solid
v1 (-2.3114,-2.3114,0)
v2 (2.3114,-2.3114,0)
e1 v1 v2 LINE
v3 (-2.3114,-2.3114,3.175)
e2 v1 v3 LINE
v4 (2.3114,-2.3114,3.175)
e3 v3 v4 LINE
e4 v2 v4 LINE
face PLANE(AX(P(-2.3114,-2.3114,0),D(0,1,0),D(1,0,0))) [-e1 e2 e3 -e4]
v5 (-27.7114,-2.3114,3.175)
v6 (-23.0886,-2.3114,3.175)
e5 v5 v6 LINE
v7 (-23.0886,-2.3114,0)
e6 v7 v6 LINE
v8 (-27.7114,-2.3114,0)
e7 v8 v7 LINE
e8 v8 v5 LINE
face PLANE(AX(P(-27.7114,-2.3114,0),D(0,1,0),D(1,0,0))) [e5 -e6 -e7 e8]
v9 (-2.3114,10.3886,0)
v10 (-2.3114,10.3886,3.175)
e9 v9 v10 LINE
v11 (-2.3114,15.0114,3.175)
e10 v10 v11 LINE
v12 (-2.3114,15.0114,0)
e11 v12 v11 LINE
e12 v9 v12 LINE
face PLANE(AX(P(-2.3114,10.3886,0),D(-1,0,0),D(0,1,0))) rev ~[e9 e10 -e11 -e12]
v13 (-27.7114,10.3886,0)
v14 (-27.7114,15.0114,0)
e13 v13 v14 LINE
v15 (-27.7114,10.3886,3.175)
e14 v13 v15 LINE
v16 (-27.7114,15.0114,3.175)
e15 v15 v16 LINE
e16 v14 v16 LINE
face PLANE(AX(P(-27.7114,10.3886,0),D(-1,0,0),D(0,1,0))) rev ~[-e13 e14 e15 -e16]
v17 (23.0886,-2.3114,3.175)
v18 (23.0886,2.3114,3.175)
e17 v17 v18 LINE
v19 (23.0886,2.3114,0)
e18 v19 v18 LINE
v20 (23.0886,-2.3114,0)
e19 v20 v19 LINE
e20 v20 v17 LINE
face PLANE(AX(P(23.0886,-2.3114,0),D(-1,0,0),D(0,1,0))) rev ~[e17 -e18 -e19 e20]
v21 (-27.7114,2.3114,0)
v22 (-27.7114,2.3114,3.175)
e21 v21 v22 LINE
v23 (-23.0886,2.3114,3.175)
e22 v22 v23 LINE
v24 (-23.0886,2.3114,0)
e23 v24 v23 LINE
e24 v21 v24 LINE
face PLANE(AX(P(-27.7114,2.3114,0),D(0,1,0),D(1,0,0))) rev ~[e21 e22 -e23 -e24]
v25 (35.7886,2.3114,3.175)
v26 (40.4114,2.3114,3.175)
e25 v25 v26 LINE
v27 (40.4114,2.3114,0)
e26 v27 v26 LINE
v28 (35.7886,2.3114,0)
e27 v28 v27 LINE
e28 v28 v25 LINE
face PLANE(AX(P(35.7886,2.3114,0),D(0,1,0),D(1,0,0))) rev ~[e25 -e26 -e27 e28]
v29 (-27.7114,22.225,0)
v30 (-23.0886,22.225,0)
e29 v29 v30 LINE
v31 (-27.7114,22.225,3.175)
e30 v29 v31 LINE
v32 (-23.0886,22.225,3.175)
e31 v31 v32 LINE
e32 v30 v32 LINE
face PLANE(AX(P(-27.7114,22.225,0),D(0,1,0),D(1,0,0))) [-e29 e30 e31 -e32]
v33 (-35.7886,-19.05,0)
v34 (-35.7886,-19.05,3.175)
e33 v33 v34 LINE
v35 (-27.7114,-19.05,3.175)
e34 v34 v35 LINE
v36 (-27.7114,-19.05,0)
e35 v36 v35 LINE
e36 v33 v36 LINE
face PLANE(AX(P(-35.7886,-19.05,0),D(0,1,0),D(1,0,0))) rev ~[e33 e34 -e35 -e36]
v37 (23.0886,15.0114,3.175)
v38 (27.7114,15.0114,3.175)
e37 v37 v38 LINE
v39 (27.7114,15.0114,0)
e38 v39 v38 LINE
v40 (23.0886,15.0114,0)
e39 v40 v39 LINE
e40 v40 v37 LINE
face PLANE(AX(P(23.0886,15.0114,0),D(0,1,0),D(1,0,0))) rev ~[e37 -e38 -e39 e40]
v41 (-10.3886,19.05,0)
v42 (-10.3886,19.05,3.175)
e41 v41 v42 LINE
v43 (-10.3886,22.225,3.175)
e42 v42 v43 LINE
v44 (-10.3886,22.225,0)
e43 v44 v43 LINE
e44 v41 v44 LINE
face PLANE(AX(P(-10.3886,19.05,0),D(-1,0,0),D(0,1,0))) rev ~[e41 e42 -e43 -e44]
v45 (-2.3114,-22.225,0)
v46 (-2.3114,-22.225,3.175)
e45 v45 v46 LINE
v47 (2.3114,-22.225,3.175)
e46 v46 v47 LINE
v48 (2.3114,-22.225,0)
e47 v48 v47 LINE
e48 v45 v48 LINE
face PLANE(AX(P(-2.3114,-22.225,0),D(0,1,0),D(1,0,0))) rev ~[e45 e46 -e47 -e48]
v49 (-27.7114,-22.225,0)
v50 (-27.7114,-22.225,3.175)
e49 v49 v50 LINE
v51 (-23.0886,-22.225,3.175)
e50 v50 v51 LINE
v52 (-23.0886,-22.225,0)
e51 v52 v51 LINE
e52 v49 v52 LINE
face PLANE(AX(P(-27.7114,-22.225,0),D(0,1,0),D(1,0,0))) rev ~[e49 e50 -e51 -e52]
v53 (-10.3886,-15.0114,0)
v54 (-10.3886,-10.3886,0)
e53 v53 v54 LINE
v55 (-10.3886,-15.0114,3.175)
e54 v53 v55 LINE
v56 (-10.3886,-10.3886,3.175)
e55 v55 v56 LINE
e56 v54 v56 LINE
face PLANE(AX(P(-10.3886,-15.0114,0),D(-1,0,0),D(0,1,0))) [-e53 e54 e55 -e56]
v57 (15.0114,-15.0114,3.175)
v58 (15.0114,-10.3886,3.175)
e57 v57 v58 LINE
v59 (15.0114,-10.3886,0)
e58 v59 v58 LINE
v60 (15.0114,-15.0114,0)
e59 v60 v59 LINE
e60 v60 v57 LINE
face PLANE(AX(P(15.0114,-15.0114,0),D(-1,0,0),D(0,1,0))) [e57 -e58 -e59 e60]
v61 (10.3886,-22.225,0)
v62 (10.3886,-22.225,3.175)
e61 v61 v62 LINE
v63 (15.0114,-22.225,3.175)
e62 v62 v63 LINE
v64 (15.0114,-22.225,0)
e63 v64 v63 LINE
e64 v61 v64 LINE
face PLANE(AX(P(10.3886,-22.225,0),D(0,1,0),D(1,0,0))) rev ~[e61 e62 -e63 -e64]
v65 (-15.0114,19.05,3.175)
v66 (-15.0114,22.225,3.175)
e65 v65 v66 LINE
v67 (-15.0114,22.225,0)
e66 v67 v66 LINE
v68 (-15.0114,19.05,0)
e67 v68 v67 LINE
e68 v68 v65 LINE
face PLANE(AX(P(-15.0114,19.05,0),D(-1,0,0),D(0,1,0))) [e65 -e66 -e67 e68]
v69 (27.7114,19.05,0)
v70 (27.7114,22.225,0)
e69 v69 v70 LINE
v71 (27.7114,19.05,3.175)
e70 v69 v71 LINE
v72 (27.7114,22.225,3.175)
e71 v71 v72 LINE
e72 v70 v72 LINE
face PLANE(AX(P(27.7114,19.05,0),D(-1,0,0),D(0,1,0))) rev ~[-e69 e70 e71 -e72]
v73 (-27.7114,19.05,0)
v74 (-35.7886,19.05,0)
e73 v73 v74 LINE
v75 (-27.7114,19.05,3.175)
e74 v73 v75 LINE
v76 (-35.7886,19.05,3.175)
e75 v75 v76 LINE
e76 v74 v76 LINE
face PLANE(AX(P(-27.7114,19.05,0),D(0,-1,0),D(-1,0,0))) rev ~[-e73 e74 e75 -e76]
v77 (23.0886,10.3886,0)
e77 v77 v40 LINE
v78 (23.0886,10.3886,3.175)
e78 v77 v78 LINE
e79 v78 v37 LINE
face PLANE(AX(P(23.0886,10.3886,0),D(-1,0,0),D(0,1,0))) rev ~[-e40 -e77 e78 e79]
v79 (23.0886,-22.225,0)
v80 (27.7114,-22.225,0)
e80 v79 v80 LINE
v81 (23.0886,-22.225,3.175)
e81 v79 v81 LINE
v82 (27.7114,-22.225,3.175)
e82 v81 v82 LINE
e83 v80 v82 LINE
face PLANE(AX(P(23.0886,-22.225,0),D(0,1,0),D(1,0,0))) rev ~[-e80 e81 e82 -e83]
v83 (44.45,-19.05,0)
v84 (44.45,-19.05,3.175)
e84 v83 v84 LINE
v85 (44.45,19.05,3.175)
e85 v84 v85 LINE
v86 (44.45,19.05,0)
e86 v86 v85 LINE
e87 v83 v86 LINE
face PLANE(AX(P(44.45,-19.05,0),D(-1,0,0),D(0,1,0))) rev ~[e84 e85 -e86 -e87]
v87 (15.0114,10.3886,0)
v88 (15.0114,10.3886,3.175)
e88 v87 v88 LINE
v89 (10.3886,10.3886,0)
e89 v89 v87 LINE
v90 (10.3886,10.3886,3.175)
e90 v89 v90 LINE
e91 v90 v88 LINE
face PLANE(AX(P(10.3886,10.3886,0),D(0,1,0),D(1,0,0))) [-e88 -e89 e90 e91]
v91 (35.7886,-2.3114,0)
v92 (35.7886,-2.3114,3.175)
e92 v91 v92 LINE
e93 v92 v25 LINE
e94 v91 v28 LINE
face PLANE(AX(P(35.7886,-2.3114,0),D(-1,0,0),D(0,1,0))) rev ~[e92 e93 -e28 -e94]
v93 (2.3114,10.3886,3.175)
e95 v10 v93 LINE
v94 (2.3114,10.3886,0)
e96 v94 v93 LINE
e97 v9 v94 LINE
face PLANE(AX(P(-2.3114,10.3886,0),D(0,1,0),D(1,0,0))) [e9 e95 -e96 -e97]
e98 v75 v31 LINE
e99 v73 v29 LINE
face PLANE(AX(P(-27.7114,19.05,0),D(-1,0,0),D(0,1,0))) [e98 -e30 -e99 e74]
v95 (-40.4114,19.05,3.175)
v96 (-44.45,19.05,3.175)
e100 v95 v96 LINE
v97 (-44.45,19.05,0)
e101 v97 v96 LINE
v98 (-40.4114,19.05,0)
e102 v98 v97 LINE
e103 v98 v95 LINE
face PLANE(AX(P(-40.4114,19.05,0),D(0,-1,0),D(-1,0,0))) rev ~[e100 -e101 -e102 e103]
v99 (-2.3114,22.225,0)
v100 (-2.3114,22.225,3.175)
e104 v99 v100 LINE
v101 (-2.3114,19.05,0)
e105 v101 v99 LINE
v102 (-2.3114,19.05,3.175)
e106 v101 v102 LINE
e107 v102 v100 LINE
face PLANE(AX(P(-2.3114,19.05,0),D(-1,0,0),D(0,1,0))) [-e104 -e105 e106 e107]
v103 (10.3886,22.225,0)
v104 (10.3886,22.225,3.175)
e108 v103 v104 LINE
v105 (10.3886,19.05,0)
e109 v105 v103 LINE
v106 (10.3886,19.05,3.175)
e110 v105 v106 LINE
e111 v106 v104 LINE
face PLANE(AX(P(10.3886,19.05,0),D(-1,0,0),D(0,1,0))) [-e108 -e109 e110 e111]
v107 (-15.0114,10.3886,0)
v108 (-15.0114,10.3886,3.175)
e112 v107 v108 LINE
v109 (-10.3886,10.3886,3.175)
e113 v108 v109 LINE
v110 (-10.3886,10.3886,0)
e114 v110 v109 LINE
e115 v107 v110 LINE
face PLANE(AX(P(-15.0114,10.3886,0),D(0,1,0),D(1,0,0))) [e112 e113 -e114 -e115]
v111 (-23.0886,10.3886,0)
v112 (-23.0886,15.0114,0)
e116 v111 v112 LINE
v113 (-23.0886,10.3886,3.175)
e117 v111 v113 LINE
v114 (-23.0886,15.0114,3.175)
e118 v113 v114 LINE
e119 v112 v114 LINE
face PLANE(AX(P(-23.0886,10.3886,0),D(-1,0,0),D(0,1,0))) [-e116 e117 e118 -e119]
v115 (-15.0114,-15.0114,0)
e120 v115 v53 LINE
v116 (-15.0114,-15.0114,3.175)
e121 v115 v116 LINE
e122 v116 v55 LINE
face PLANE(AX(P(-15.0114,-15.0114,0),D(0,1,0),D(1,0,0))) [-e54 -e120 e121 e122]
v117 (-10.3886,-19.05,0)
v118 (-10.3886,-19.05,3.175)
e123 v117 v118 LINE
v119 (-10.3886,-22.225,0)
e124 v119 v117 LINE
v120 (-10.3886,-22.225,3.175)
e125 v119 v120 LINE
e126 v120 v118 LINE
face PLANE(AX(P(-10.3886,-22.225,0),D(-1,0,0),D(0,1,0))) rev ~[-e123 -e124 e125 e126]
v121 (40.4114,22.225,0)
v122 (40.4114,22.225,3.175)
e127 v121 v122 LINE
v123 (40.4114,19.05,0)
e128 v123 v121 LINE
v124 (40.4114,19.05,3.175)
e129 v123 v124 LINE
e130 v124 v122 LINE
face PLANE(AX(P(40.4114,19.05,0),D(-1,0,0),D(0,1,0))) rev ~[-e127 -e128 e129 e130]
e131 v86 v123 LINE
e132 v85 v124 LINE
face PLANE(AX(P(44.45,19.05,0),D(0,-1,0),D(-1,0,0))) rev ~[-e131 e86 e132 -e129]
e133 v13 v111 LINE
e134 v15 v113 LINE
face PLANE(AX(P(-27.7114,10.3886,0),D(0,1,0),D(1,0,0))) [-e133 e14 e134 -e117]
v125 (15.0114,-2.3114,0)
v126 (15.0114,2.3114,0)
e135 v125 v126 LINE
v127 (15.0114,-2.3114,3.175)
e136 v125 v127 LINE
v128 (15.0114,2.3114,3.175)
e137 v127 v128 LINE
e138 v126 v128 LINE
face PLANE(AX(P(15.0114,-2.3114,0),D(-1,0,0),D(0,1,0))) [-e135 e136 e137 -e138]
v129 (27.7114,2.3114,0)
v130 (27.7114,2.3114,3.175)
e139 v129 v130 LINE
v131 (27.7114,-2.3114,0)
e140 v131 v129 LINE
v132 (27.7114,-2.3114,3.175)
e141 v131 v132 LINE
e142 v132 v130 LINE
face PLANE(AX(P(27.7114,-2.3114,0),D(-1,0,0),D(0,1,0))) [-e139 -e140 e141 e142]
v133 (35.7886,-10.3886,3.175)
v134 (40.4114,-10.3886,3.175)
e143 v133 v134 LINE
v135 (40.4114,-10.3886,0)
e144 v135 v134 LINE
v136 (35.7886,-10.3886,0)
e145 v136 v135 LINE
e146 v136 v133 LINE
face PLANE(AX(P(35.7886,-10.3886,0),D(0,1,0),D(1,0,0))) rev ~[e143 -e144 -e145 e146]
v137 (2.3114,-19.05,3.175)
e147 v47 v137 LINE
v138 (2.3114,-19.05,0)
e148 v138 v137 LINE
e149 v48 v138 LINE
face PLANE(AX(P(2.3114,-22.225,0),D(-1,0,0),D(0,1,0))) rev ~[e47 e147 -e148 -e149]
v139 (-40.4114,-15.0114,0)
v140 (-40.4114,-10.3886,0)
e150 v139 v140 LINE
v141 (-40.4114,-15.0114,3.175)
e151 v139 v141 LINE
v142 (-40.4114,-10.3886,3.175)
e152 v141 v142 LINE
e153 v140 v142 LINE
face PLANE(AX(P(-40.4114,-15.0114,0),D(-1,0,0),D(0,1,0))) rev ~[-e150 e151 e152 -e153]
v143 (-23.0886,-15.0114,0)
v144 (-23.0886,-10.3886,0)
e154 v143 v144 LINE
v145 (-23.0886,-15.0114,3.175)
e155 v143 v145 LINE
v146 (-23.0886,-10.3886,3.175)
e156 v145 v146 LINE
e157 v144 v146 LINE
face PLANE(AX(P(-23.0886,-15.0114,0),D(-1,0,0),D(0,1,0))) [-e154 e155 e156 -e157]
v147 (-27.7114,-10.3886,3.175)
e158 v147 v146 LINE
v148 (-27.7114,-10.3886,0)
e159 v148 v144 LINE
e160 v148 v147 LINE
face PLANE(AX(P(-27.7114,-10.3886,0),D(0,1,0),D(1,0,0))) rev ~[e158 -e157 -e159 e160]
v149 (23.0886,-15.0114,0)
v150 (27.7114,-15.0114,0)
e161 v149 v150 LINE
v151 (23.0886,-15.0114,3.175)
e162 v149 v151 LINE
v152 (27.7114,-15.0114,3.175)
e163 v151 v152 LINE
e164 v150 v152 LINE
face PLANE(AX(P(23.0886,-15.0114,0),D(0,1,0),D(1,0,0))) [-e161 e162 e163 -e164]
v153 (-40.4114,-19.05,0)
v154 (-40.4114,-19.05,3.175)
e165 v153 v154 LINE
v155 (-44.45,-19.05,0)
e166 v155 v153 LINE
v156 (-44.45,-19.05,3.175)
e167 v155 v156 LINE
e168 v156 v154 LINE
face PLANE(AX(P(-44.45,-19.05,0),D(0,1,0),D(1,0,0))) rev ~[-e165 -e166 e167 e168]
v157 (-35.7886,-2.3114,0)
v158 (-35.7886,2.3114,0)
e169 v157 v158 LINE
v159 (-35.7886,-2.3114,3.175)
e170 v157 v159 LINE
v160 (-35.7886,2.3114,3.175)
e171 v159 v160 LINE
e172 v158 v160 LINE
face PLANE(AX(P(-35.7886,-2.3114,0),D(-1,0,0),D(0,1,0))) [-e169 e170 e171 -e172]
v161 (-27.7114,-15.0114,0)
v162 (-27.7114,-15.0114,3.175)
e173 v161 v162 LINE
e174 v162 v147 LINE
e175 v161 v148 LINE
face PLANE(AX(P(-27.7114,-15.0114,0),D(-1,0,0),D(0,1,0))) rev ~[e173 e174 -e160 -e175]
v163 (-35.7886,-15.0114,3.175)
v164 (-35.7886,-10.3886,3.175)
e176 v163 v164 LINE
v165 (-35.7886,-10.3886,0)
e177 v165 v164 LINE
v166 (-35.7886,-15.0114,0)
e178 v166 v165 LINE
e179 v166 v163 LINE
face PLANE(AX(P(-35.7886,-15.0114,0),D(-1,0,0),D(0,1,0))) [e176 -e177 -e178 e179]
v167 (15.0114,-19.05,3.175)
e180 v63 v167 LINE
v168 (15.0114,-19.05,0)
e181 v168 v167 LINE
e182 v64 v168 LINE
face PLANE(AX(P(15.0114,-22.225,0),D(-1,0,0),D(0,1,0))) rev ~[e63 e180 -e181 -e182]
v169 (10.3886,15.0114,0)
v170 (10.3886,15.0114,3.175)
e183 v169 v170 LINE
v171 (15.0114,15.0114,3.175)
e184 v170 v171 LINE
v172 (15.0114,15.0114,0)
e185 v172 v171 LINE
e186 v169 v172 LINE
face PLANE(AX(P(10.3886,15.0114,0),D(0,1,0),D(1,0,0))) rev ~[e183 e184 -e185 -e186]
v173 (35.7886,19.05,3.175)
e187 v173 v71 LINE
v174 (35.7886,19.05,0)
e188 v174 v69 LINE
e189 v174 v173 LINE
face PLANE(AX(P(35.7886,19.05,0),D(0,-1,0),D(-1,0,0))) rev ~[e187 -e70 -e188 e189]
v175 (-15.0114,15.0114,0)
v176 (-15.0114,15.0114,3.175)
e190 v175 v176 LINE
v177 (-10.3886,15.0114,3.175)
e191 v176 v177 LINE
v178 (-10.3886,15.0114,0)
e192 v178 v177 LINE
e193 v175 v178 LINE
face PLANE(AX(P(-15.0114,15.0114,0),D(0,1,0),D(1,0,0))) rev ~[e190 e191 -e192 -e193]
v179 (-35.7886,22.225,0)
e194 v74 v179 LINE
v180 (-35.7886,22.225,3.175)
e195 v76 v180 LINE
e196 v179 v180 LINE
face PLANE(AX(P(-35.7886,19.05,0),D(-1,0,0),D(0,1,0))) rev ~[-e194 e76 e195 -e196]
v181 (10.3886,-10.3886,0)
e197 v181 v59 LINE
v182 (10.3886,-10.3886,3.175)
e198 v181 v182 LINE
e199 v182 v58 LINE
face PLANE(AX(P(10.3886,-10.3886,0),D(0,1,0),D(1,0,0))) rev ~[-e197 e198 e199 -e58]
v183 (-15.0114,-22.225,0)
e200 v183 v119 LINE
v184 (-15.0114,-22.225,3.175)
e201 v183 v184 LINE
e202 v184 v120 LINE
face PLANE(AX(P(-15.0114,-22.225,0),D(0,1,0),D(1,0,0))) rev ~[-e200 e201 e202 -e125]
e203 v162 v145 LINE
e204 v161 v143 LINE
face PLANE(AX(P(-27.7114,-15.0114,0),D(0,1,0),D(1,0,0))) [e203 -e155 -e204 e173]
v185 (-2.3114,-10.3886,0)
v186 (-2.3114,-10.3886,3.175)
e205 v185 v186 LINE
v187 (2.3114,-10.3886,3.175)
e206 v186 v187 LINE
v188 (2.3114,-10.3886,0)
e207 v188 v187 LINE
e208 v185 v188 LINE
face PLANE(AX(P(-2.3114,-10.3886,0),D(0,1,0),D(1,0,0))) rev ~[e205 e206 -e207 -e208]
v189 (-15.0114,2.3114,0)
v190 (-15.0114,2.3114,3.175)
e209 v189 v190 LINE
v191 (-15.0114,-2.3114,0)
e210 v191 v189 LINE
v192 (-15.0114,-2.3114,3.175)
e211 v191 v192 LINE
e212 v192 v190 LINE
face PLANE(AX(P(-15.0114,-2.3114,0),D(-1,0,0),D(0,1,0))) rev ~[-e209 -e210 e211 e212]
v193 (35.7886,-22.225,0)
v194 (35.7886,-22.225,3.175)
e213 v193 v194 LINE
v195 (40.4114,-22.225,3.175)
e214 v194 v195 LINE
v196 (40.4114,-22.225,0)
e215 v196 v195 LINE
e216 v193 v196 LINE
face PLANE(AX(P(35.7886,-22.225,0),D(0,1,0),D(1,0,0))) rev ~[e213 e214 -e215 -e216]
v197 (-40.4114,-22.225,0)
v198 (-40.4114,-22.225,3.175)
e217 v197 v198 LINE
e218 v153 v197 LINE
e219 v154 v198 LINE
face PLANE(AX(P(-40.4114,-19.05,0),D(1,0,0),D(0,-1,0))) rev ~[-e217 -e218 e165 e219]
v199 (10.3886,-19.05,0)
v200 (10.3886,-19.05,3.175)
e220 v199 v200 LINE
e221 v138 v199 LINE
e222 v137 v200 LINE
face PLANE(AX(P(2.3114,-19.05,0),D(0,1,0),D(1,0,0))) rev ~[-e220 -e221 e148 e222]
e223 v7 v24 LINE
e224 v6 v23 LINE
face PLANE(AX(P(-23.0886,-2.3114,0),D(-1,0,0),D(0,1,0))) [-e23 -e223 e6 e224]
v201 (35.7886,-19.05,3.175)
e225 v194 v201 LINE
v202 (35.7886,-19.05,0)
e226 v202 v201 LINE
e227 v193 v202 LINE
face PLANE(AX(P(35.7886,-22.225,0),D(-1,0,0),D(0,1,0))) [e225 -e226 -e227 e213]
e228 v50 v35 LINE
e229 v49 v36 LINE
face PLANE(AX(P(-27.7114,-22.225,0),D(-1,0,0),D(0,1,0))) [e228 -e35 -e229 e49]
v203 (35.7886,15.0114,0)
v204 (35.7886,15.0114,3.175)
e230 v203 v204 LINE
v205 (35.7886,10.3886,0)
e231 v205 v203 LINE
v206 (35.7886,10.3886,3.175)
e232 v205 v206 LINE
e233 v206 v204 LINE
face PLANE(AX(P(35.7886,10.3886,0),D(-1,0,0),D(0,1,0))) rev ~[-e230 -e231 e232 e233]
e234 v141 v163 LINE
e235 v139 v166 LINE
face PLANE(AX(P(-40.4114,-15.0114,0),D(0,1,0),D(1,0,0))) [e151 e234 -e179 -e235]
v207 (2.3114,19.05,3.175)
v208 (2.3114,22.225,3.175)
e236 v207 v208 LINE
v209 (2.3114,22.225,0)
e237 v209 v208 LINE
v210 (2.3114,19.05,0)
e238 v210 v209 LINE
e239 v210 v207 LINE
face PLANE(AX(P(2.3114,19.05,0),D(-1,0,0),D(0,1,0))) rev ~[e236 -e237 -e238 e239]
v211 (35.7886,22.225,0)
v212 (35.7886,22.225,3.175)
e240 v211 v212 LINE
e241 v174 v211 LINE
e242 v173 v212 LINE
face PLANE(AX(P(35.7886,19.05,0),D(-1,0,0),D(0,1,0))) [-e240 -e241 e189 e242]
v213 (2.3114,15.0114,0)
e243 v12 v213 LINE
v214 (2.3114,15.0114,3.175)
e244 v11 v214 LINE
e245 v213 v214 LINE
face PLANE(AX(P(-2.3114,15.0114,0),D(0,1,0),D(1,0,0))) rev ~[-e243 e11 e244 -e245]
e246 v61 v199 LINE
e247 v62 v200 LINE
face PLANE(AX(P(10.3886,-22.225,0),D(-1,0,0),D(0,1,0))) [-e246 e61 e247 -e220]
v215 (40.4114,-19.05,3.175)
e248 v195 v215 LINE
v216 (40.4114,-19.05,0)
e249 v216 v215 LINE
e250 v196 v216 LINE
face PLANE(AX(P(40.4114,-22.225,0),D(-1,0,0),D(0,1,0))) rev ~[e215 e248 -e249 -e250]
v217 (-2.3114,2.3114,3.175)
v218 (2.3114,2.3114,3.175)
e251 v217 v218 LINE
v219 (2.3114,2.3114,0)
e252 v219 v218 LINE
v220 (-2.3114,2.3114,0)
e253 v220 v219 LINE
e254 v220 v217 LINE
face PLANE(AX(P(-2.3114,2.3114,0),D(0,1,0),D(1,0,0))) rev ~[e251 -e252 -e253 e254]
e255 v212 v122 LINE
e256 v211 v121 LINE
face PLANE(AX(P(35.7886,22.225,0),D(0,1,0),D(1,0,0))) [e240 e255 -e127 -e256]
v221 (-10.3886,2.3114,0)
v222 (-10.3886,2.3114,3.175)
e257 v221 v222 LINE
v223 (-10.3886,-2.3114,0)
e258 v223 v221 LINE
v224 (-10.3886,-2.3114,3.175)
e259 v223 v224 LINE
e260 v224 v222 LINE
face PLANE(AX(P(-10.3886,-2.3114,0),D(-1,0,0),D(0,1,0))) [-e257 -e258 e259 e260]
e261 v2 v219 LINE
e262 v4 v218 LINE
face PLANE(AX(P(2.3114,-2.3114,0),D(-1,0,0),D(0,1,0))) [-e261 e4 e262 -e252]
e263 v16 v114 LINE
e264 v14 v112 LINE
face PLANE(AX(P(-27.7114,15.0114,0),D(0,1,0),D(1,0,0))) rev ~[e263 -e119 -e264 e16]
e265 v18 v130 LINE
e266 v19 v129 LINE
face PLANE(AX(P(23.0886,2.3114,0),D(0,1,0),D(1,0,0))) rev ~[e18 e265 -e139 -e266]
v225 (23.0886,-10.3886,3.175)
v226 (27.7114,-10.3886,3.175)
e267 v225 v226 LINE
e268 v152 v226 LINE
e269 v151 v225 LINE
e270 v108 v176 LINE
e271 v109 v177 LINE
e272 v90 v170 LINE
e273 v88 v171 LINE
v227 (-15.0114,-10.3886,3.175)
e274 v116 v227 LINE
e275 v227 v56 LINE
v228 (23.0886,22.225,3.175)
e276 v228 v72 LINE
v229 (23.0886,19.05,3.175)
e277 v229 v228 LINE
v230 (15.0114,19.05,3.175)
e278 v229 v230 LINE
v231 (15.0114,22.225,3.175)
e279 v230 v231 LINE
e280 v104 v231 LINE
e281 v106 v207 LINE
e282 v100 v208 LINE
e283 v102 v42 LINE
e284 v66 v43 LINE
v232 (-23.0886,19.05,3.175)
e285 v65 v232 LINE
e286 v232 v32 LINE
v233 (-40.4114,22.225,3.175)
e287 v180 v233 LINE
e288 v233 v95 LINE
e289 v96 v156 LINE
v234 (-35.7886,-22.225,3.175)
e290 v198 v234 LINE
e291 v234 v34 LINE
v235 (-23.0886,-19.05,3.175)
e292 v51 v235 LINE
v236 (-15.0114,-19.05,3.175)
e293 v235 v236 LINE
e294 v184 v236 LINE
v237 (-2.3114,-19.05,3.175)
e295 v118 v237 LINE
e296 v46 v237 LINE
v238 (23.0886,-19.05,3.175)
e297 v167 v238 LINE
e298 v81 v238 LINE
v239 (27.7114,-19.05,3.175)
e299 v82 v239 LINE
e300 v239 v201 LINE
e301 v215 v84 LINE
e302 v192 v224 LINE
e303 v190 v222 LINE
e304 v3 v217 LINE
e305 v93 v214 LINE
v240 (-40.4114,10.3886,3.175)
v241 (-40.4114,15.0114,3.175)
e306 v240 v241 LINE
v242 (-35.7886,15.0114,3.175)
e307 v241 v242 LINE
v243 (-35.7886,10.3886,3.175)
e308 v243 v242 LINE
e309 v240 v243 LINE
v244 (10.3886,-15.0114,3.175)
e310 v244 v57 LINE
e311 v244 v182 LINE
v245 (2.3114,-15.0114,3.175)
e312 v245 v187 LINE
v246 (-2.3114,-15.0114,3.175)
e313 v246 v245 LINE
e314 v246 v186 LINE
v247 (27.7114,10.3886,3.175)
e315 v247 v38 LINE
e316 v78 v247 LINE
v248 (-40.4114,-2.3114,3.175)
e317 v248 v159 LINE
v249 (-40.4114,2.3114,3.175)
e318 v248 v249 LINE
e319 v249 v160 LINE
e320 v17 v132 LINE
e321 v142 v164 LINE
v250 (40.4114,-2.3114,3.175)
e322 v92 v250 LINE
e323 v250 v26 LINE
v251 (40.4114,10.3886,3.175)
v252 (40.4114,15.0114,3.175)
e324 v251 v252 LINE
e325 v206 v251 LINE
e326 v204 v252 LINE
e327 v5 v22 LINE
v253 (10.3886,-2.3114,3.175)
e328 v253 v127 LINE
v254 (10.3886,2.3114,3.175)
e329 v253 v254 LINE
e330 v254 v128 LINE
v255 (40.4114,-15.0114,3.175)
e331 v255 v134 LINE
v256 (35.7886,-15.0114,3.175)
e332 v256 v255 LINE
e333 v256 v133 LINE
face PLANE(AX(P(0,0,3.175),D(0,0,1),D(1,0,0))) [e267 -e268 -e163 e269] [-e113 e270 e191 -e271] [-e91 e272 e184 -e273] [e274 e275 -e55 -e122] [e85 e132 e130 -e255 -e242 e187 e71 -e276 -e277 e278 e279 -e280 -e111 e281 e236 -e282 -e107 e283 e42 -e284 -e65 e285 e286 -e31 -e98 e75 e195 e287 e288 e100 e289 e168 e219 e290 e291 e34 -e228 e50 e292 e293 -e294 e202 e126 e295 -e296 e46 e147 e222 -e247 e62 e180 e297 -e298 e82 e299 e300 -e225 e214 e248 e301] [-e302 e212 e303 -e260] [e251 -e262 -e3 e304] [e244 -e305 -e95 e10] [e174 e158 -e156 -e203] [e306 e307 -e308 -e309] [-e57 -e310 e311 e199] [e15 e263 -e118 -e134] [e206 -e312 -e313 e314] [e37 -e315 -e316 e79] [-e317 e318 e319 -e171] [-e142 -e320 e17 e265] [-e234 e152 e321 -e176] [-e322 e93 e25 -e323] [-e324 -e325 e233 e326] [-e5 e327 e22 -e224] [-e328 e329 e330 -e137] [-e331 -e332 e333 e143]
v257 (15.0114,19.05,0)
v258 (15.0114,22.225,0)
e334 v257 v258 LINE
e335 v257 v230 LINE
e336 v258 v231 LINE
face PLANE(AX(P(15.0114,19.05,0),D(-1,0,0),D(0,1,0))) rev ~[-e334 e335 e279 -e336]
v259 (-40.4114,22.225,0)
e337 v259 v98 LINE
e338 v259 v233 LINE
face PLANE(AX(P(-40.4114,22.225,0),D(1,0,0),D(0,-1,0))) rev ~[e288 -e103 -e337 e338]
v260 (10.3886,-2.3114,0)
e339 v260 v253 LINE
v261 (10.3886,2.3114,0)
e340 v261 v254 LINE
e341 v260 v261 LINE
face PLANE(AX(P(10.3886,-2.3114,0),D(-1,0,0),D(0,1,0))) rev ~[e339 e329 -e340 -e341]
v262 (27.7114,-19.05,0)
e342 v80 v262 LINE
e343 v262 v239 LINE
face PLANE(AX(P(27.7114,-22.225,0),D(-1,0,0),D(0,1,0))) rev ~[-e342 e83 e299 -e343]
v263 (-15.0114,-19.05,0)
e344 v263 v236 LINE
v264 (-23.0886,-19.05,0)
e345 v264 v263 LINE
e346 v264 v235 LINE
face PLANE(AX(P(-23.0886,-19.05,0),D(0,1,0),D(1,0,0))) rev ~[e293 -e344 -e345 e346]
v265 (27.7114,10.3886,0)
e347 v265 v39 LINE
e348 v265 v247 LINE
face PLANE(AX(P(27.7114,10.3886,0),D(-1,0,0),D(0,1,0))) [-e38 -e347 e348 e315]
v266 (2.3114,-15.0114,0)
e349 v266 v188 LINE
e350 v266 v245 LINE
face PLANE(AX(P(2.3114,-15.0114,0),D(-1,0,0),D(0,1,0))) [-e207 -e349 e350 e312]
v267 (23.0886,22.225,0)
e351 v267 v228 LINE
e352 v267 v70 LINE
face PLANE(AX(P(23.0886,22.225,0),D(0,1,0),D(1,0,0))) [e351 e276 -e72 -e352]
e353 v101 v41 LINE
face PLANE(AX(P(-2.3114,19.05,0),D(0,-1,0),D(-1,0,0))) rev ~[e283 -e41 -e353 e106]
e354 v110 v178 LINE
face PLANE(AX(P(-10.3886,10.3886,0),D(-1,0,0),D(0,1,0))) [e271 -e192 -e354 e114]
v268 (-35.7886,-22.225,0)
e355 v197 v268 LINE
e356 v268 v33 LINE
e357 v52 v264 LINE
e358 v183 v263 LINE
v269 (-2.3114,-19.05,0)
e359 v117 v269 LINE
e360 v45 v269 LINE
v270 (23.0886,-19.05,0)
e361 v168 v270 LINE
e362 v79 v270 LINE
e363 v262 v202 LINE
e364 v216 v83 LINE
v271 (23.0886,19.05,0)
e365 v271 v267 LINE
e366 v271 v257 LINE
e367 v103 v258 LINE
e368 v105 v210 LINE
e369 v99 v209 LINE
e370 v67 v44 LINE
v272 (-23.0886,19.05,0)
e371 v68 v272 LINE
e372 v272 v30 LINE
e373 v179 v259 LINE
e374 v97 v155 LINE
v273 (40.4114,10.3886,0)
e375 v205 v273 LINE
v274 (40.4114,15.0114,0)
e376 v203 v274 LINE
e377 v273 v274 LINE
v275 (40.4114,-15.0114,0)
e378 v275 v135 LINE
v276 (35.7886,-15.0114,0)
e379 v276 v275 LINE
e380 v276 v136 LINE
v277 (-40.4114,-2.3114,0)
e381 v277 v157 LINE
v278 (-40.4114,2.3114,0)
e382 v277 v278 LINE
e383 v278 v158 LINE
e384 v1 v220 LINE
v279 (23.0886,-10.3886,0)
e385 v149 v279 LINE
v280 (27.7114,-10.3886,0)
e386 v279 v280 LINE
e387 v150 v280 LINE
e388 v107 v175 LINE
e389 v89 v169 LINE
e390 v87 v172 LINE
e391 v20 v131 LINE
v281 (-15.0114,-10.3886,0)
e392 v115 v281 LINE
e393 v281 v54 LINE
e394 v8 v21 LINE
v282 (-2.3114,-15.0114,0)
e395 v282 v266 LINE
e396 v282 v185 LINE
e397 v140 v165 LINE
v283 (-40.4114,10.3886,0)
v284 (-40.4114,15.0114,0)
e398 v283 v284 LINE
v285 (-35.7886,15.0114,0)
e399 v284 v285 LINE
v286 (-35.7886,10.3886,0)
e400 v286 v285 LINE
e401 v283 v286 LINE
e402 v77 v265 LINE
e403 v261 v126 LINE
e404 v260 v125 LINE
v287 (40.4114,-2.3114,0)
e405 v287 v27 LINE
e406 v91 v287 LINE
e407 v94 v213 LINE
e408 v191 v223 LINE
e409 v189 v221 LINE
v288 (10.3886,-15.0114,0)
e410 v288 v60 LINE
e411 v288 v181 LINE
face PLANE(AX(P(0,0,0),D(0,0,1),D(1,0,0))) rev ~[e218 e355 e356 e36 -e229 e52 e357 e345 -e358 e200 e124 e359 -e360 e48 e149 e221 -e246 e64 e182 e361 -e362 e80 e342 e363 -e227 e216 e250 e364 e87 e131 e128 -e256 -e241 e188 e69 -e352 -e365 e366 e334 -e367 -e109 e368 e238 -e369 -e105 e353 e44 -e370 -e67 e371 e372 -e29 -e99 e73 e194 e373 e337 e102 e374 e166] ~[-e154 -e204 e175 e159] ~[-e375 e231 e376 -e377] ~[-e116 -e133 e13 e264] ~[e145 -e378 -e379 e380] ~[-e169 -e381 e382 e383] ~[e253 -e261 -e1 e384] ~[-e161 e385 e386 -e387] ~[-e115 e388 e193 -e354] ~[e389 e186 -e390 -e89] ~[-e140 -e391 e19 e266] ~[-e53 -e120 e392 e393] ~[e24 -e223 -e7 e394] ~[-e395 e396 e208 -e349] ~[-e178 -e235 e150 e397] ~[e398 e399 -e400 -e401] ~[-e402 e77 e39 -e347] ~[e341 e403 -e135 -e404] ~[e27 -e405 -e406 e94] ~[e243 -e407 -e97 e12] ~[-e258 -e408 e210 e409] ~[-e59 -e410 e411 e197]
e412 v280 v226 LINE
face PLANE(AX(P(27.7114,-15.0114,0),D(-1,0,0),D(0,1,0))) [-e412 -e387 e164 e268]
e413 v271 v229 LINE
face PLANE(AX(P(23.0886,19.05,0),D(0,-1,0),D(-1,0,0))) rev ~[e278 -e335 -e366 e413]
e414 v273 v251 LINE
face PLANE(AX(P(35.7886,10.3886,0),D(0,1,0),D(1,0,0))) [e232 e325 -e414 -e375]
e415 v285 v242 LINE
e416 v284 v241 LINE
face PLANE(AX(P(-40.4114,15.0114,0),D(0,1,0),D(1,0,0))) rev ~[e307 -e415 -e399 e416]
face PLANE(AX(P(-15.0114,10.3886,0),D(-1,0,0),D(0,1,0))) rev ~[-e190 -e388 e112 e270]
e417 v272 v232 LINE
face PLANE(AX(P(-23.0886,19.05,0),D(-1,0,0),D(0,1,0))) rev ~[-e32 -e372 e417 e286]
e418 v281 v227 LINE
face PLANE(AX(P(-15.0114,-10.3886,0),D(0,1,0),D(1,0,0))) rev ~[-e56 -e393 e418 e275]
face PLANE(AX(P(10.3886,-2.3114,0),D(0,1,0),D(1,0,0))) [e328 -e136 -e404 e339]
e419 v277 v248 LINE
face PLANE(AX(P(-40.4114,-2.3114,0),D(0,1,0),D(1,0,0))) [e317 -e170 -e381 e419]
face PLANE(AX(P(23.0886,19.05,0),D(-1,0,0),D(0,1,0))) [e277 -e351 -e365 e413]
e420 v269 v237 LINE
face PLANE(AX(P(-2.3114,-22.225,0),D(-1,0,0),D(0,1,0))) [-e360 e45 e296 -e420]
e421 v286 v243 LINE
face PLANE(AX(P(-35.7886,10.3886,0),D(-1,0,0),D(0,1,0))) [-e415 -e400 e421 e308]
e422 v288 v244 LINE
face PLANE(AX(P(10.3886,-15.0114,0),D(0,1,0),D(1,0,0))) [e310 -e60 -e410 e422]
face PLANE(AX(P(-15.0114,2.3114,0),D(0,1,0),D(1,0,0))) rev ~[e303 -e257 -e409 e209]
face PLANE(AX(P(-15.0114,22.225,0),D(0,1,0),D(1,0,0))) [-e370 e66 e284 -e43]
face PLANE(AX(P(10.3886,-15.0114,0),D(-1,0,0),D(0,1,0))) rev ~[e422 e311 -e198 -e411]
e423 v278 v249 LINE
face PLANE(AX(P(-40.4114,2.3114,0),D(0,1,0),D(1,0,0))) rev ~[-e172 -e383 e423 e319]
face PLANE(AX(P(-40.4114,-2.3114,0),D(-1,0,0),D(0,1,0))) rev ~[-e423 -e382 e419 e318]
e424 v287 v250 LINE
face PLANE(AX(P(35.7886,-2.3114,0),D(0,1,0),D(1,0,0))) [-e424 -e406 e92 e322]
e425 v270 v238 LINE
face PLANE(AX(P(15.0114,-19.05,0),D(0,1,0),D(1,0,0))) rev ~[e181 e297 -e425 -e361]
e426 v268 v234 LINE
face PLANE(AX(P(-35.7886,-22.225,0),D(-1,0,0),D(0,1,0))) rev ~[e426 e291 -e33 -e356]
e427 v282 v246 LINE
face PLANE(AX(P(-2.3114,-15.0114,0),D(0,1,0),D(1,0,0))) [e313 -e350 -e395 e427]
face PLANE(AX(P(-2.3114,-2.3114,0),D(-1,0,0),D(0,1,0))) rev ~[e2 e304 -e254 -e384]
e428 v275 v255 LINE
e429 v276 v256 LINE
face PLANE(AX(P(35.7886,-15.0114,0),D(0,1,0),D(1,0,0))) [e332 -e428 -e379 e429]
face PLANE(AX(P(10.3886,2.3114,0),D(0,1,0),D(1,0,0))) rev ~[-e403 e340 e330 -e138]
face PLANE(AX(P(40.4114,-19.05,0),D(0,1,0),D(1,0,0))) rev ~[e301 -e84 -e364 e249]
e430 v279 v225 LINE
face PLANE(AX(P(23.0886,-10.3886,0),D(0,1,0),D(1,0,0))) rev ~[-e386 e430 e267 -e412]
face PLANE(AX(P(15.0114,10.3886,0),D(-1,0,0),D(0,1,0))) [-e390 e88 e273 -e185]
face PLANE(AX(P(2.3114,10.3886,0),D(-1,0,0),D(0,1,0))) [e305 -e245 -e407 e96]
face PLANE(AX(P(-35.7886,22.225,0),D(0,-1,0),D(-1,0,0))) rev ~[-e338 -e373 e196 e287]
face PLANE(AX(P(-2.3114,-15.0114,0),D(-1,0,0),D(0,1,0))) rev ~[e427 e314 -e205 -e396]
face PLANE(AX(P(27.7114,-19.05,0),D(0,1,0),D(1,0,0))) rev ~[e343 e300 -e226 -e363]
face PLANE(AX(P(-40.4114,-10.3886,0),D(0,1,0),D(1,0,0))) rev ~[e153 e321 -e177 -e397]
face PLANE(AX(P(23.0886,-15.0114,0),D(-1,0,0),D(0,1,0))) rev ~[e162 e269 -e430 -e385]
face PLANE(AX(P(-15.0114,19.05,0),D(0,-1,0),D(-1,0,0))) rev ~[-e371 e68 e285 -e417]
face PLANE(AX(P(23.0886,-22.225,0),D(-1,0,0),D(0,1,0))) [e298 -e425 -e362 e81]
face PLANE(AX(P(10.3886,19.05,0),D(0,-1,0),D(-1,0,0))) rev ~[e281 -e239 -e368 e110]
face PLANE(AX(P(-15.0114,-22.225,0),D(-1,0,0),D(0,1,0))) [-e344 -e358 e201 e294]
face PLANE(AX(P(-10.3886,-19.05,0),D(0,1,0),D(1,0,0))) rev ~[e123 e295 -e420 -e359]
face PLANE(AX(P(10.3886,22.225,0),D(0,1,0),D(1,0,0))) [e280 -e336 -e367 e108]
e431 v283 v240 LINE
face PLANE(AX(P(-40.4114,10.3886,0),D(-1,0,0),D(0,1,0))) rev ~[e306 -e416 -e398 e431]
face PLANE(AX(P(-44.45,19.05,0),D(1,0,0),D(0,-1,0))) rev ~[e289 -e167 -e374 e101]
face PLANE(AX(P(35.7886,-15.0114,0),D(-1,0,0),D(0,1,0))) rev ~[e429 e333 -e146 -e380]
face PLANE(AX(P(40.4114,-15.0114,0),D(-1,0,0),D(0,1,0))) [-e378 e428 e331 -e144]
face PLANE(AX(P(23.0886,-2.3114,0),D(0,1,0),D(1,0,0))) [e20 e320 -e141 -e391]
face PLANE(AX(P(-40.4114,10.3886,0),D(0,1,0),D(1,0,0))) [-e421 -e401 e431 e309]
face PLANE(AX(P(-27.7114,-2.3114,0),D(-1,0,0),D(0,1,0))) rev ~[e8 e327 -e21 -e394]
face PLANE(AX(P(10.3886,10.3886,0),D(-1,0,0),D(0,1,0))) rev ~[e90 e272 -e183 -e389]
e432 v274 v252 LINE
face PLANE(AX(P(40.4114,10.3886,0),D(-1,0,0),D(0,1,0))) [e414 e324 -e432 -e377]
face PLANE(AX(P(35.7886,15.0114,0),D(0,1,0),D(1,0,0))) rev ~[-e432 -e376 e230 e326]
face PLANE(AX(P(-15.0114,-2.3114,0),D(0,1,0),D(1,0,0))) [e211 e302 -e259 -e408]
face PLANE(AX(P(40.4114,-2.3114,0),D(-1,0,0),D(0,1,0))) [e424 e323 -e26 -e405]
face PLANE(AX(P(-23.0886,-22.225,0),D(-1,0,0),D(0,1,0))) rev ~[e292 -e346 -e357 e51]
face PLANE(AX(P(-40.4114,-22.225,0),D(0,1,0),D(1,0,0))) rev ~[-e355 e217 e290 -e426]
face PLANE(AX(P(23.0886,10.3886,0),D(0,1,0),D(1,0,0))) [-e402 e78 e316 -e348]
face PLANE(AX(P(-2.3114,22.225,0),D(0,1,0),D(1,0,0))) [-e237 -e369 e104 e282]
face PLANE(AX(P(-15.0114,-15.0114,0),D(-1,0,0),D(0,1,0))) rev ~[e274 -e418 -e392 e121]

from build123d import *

# Parameters (mm, degrees)
F0_W     = 4.6228
F0_H     = 4.6228
F0_H_2   = 3.175
F1_DEPTH = 3.175


with BuildPart() as f1:
    # F0 (on Top) → F1 (new body)
    with BuildSketch(Plane.XY):
        Polygon((44.45, -19.05), (44.45, 19.05), (40.4114, 19.05), (35.7886, 19.05), (27.7114, 19.05), (23.0886, 19.05), (15.0114, 19.05), (10.3886, 19.05), (2.3114, 19.05), (-2.3114, 19.05), (-10.3886, 19.05), (-15.0114, 19.05), (-23.0886, 19.05), (-27.7114, 19.05), (-35.7886, 19.05), (-38.1, 19.05), (-40.4114, 19.05), (-44.45, 19.05), (-44.45, -12.7), (-44.45, -19.05), (-40.4114, -19.05), (-38.1, -19.05), (-35.7886, -19.05), (-27.7114, -19.05), (-23.0886, -19.05), (-15.0114, -19.05), (-10.3886, -19.05), (-2.3114, -19.05), (2.3114, -19.05), (10.3886, -19.05), (15.0114, -19.05), (23.0886, -19.05), (27.7114, -19.05), (35.7886, -19.05), (40.4114, -19.05), align=None)
        with Locations((-38.1, -12.7)):
            Rectangle(F0_W, F0_H, mode=Mode.SUBTRACT)
        with Locations((-25.4, -12.7)):
            Rectangle(F0_W, F0_H, mode=Mode.SUBTRACT)
        with Locations((-12.7, -12.7)):
            Rectangle(F0_W, F0_H, mode=Mode.SUBTRACT)
        with Locations((0, -12.7)):
            Rectangle(F0_W, F0_H, mode=Mode.SUBTRACT)
        with Locations((12.7, -12.7)):
            Rectangle(F0_W, F0_H, mode=Mode.SUBTRACT)
        with Locations((25.4, -12.7)):
            Rectangle(F0_W, F0_H, mode=Mode.SUBTRACT)
        with Locations((38.1, -12.7)):
            Rectangle(F0_W, F0_H, mode=Mode.SUBTRACT)
        with Locations((-38.1, 0)):
            Rectangle(F0_W, F0_H, mode=Mode.SUBTRACT)
        with Locations((-25.4, 0)):
            Rectangle(F0_W, F0_H, mode=Mode.SUBTRACT)
        with Locations((-12.7, 0)):
            Rectangle(F0_W, F0_H, mode=Mode.SUBTRACT)
        with Locations((-38.1, 12.7)):
            Rectangle(F0_W, F0_H, mode=Mode.SUBTRACT)
        with Locations((-25.4, 12.7)):
            Rectangle(F0_W, F0_H, mode=Mode.SUBTRACT)
        with Locations((-12.7, 12.7)):
            Rectangle(F0_W, F0_H, mode=Mode.SUBTRACT)
        Rectangle(F0_W, F0_H, mode=Mode.SUBTRACT)
        with Locations((12.7, 0)):
            Rectangle(F0_W, F0_H, mode=Mode.SUBTRACT)
        with Locations((25.4, 0)):
            Rectangle(F0_W, F0_H, mode=Mode.SUBTRACT)
        with Locations((38.1, 0)):
            Rectangle(F0_W, F0_H, mode=Mode.SUBTRACT)
        with Locations((0, 12.7)):
            Rectangle(F0_W, F0_H, mode=Mode.SUBTRACT)
        with Locations((12.7, 12.7)):
            Rectangle(F0_W, F0_H, mode=Mode.SUBTRACT)
        with Locations((25.4, 12.7)):
            Rectangle(F0_W, F0_H, mode=Mode.SUBTRACT)
        with Locations((38.1, 12.7)):
            Rectangle(F0_W, F0_H, mode=Mode.SUBTRACT)
        with Locations((38.1, 20.6375)):
            Rectangle(F0_W, F0_H_2)
        with Locations((38.1, -20.6375)):
            Rectangle(F0_W, F0_H_2)
        with Locations((25.4, 20.6375)):
            Rectangle(F0_W, F0_H_2)
        with Locations((25.4, -20.6375)):
            Rectangle(F0_W, F0_H_2)
        with Locations((12.7, 20.6375)):
            Rectangle(F0_W, F0_H_2)
        with Locations((12.7, -20.6375)):
            Rectangle(F0_W, F0_H_2)
        with Locations((0, 20.6375)):
            Rectangle(F0_W, F0_H_2)
        with Locations((0, -20.6375)):
            Rectangle(F0_W, F0_H_2)
        with Locations((-12.7, 20.6375)):
            Rectangle(F0_W, F0_H_2)
        with Locations((-12.7, -20.6375)):
            Rectangle(F0_W, F0_H_2)
        with Locations((-25.4, 20.6375)):
            Rectangle(F0_W, F0_H_2)
        with Locations((-25.4, -20.6375)):
            Rectangle(F0_W, F0_H_2)
        Polygon((-38.1, 19.05), (-35.7886, 19.05), (-35.7886, 22.225), (-40.4114, 22.225), (-40.4114, 19.05), align=None)
        Polygon((-35.7886, -22.225), (-35.7886, -19.05), (-38.1, -19.05), (-40.4114, -19.05), (-40.4114, -22.225), align=None)
    extrude(amount=F1_DEPTH)


solid = f1.part
